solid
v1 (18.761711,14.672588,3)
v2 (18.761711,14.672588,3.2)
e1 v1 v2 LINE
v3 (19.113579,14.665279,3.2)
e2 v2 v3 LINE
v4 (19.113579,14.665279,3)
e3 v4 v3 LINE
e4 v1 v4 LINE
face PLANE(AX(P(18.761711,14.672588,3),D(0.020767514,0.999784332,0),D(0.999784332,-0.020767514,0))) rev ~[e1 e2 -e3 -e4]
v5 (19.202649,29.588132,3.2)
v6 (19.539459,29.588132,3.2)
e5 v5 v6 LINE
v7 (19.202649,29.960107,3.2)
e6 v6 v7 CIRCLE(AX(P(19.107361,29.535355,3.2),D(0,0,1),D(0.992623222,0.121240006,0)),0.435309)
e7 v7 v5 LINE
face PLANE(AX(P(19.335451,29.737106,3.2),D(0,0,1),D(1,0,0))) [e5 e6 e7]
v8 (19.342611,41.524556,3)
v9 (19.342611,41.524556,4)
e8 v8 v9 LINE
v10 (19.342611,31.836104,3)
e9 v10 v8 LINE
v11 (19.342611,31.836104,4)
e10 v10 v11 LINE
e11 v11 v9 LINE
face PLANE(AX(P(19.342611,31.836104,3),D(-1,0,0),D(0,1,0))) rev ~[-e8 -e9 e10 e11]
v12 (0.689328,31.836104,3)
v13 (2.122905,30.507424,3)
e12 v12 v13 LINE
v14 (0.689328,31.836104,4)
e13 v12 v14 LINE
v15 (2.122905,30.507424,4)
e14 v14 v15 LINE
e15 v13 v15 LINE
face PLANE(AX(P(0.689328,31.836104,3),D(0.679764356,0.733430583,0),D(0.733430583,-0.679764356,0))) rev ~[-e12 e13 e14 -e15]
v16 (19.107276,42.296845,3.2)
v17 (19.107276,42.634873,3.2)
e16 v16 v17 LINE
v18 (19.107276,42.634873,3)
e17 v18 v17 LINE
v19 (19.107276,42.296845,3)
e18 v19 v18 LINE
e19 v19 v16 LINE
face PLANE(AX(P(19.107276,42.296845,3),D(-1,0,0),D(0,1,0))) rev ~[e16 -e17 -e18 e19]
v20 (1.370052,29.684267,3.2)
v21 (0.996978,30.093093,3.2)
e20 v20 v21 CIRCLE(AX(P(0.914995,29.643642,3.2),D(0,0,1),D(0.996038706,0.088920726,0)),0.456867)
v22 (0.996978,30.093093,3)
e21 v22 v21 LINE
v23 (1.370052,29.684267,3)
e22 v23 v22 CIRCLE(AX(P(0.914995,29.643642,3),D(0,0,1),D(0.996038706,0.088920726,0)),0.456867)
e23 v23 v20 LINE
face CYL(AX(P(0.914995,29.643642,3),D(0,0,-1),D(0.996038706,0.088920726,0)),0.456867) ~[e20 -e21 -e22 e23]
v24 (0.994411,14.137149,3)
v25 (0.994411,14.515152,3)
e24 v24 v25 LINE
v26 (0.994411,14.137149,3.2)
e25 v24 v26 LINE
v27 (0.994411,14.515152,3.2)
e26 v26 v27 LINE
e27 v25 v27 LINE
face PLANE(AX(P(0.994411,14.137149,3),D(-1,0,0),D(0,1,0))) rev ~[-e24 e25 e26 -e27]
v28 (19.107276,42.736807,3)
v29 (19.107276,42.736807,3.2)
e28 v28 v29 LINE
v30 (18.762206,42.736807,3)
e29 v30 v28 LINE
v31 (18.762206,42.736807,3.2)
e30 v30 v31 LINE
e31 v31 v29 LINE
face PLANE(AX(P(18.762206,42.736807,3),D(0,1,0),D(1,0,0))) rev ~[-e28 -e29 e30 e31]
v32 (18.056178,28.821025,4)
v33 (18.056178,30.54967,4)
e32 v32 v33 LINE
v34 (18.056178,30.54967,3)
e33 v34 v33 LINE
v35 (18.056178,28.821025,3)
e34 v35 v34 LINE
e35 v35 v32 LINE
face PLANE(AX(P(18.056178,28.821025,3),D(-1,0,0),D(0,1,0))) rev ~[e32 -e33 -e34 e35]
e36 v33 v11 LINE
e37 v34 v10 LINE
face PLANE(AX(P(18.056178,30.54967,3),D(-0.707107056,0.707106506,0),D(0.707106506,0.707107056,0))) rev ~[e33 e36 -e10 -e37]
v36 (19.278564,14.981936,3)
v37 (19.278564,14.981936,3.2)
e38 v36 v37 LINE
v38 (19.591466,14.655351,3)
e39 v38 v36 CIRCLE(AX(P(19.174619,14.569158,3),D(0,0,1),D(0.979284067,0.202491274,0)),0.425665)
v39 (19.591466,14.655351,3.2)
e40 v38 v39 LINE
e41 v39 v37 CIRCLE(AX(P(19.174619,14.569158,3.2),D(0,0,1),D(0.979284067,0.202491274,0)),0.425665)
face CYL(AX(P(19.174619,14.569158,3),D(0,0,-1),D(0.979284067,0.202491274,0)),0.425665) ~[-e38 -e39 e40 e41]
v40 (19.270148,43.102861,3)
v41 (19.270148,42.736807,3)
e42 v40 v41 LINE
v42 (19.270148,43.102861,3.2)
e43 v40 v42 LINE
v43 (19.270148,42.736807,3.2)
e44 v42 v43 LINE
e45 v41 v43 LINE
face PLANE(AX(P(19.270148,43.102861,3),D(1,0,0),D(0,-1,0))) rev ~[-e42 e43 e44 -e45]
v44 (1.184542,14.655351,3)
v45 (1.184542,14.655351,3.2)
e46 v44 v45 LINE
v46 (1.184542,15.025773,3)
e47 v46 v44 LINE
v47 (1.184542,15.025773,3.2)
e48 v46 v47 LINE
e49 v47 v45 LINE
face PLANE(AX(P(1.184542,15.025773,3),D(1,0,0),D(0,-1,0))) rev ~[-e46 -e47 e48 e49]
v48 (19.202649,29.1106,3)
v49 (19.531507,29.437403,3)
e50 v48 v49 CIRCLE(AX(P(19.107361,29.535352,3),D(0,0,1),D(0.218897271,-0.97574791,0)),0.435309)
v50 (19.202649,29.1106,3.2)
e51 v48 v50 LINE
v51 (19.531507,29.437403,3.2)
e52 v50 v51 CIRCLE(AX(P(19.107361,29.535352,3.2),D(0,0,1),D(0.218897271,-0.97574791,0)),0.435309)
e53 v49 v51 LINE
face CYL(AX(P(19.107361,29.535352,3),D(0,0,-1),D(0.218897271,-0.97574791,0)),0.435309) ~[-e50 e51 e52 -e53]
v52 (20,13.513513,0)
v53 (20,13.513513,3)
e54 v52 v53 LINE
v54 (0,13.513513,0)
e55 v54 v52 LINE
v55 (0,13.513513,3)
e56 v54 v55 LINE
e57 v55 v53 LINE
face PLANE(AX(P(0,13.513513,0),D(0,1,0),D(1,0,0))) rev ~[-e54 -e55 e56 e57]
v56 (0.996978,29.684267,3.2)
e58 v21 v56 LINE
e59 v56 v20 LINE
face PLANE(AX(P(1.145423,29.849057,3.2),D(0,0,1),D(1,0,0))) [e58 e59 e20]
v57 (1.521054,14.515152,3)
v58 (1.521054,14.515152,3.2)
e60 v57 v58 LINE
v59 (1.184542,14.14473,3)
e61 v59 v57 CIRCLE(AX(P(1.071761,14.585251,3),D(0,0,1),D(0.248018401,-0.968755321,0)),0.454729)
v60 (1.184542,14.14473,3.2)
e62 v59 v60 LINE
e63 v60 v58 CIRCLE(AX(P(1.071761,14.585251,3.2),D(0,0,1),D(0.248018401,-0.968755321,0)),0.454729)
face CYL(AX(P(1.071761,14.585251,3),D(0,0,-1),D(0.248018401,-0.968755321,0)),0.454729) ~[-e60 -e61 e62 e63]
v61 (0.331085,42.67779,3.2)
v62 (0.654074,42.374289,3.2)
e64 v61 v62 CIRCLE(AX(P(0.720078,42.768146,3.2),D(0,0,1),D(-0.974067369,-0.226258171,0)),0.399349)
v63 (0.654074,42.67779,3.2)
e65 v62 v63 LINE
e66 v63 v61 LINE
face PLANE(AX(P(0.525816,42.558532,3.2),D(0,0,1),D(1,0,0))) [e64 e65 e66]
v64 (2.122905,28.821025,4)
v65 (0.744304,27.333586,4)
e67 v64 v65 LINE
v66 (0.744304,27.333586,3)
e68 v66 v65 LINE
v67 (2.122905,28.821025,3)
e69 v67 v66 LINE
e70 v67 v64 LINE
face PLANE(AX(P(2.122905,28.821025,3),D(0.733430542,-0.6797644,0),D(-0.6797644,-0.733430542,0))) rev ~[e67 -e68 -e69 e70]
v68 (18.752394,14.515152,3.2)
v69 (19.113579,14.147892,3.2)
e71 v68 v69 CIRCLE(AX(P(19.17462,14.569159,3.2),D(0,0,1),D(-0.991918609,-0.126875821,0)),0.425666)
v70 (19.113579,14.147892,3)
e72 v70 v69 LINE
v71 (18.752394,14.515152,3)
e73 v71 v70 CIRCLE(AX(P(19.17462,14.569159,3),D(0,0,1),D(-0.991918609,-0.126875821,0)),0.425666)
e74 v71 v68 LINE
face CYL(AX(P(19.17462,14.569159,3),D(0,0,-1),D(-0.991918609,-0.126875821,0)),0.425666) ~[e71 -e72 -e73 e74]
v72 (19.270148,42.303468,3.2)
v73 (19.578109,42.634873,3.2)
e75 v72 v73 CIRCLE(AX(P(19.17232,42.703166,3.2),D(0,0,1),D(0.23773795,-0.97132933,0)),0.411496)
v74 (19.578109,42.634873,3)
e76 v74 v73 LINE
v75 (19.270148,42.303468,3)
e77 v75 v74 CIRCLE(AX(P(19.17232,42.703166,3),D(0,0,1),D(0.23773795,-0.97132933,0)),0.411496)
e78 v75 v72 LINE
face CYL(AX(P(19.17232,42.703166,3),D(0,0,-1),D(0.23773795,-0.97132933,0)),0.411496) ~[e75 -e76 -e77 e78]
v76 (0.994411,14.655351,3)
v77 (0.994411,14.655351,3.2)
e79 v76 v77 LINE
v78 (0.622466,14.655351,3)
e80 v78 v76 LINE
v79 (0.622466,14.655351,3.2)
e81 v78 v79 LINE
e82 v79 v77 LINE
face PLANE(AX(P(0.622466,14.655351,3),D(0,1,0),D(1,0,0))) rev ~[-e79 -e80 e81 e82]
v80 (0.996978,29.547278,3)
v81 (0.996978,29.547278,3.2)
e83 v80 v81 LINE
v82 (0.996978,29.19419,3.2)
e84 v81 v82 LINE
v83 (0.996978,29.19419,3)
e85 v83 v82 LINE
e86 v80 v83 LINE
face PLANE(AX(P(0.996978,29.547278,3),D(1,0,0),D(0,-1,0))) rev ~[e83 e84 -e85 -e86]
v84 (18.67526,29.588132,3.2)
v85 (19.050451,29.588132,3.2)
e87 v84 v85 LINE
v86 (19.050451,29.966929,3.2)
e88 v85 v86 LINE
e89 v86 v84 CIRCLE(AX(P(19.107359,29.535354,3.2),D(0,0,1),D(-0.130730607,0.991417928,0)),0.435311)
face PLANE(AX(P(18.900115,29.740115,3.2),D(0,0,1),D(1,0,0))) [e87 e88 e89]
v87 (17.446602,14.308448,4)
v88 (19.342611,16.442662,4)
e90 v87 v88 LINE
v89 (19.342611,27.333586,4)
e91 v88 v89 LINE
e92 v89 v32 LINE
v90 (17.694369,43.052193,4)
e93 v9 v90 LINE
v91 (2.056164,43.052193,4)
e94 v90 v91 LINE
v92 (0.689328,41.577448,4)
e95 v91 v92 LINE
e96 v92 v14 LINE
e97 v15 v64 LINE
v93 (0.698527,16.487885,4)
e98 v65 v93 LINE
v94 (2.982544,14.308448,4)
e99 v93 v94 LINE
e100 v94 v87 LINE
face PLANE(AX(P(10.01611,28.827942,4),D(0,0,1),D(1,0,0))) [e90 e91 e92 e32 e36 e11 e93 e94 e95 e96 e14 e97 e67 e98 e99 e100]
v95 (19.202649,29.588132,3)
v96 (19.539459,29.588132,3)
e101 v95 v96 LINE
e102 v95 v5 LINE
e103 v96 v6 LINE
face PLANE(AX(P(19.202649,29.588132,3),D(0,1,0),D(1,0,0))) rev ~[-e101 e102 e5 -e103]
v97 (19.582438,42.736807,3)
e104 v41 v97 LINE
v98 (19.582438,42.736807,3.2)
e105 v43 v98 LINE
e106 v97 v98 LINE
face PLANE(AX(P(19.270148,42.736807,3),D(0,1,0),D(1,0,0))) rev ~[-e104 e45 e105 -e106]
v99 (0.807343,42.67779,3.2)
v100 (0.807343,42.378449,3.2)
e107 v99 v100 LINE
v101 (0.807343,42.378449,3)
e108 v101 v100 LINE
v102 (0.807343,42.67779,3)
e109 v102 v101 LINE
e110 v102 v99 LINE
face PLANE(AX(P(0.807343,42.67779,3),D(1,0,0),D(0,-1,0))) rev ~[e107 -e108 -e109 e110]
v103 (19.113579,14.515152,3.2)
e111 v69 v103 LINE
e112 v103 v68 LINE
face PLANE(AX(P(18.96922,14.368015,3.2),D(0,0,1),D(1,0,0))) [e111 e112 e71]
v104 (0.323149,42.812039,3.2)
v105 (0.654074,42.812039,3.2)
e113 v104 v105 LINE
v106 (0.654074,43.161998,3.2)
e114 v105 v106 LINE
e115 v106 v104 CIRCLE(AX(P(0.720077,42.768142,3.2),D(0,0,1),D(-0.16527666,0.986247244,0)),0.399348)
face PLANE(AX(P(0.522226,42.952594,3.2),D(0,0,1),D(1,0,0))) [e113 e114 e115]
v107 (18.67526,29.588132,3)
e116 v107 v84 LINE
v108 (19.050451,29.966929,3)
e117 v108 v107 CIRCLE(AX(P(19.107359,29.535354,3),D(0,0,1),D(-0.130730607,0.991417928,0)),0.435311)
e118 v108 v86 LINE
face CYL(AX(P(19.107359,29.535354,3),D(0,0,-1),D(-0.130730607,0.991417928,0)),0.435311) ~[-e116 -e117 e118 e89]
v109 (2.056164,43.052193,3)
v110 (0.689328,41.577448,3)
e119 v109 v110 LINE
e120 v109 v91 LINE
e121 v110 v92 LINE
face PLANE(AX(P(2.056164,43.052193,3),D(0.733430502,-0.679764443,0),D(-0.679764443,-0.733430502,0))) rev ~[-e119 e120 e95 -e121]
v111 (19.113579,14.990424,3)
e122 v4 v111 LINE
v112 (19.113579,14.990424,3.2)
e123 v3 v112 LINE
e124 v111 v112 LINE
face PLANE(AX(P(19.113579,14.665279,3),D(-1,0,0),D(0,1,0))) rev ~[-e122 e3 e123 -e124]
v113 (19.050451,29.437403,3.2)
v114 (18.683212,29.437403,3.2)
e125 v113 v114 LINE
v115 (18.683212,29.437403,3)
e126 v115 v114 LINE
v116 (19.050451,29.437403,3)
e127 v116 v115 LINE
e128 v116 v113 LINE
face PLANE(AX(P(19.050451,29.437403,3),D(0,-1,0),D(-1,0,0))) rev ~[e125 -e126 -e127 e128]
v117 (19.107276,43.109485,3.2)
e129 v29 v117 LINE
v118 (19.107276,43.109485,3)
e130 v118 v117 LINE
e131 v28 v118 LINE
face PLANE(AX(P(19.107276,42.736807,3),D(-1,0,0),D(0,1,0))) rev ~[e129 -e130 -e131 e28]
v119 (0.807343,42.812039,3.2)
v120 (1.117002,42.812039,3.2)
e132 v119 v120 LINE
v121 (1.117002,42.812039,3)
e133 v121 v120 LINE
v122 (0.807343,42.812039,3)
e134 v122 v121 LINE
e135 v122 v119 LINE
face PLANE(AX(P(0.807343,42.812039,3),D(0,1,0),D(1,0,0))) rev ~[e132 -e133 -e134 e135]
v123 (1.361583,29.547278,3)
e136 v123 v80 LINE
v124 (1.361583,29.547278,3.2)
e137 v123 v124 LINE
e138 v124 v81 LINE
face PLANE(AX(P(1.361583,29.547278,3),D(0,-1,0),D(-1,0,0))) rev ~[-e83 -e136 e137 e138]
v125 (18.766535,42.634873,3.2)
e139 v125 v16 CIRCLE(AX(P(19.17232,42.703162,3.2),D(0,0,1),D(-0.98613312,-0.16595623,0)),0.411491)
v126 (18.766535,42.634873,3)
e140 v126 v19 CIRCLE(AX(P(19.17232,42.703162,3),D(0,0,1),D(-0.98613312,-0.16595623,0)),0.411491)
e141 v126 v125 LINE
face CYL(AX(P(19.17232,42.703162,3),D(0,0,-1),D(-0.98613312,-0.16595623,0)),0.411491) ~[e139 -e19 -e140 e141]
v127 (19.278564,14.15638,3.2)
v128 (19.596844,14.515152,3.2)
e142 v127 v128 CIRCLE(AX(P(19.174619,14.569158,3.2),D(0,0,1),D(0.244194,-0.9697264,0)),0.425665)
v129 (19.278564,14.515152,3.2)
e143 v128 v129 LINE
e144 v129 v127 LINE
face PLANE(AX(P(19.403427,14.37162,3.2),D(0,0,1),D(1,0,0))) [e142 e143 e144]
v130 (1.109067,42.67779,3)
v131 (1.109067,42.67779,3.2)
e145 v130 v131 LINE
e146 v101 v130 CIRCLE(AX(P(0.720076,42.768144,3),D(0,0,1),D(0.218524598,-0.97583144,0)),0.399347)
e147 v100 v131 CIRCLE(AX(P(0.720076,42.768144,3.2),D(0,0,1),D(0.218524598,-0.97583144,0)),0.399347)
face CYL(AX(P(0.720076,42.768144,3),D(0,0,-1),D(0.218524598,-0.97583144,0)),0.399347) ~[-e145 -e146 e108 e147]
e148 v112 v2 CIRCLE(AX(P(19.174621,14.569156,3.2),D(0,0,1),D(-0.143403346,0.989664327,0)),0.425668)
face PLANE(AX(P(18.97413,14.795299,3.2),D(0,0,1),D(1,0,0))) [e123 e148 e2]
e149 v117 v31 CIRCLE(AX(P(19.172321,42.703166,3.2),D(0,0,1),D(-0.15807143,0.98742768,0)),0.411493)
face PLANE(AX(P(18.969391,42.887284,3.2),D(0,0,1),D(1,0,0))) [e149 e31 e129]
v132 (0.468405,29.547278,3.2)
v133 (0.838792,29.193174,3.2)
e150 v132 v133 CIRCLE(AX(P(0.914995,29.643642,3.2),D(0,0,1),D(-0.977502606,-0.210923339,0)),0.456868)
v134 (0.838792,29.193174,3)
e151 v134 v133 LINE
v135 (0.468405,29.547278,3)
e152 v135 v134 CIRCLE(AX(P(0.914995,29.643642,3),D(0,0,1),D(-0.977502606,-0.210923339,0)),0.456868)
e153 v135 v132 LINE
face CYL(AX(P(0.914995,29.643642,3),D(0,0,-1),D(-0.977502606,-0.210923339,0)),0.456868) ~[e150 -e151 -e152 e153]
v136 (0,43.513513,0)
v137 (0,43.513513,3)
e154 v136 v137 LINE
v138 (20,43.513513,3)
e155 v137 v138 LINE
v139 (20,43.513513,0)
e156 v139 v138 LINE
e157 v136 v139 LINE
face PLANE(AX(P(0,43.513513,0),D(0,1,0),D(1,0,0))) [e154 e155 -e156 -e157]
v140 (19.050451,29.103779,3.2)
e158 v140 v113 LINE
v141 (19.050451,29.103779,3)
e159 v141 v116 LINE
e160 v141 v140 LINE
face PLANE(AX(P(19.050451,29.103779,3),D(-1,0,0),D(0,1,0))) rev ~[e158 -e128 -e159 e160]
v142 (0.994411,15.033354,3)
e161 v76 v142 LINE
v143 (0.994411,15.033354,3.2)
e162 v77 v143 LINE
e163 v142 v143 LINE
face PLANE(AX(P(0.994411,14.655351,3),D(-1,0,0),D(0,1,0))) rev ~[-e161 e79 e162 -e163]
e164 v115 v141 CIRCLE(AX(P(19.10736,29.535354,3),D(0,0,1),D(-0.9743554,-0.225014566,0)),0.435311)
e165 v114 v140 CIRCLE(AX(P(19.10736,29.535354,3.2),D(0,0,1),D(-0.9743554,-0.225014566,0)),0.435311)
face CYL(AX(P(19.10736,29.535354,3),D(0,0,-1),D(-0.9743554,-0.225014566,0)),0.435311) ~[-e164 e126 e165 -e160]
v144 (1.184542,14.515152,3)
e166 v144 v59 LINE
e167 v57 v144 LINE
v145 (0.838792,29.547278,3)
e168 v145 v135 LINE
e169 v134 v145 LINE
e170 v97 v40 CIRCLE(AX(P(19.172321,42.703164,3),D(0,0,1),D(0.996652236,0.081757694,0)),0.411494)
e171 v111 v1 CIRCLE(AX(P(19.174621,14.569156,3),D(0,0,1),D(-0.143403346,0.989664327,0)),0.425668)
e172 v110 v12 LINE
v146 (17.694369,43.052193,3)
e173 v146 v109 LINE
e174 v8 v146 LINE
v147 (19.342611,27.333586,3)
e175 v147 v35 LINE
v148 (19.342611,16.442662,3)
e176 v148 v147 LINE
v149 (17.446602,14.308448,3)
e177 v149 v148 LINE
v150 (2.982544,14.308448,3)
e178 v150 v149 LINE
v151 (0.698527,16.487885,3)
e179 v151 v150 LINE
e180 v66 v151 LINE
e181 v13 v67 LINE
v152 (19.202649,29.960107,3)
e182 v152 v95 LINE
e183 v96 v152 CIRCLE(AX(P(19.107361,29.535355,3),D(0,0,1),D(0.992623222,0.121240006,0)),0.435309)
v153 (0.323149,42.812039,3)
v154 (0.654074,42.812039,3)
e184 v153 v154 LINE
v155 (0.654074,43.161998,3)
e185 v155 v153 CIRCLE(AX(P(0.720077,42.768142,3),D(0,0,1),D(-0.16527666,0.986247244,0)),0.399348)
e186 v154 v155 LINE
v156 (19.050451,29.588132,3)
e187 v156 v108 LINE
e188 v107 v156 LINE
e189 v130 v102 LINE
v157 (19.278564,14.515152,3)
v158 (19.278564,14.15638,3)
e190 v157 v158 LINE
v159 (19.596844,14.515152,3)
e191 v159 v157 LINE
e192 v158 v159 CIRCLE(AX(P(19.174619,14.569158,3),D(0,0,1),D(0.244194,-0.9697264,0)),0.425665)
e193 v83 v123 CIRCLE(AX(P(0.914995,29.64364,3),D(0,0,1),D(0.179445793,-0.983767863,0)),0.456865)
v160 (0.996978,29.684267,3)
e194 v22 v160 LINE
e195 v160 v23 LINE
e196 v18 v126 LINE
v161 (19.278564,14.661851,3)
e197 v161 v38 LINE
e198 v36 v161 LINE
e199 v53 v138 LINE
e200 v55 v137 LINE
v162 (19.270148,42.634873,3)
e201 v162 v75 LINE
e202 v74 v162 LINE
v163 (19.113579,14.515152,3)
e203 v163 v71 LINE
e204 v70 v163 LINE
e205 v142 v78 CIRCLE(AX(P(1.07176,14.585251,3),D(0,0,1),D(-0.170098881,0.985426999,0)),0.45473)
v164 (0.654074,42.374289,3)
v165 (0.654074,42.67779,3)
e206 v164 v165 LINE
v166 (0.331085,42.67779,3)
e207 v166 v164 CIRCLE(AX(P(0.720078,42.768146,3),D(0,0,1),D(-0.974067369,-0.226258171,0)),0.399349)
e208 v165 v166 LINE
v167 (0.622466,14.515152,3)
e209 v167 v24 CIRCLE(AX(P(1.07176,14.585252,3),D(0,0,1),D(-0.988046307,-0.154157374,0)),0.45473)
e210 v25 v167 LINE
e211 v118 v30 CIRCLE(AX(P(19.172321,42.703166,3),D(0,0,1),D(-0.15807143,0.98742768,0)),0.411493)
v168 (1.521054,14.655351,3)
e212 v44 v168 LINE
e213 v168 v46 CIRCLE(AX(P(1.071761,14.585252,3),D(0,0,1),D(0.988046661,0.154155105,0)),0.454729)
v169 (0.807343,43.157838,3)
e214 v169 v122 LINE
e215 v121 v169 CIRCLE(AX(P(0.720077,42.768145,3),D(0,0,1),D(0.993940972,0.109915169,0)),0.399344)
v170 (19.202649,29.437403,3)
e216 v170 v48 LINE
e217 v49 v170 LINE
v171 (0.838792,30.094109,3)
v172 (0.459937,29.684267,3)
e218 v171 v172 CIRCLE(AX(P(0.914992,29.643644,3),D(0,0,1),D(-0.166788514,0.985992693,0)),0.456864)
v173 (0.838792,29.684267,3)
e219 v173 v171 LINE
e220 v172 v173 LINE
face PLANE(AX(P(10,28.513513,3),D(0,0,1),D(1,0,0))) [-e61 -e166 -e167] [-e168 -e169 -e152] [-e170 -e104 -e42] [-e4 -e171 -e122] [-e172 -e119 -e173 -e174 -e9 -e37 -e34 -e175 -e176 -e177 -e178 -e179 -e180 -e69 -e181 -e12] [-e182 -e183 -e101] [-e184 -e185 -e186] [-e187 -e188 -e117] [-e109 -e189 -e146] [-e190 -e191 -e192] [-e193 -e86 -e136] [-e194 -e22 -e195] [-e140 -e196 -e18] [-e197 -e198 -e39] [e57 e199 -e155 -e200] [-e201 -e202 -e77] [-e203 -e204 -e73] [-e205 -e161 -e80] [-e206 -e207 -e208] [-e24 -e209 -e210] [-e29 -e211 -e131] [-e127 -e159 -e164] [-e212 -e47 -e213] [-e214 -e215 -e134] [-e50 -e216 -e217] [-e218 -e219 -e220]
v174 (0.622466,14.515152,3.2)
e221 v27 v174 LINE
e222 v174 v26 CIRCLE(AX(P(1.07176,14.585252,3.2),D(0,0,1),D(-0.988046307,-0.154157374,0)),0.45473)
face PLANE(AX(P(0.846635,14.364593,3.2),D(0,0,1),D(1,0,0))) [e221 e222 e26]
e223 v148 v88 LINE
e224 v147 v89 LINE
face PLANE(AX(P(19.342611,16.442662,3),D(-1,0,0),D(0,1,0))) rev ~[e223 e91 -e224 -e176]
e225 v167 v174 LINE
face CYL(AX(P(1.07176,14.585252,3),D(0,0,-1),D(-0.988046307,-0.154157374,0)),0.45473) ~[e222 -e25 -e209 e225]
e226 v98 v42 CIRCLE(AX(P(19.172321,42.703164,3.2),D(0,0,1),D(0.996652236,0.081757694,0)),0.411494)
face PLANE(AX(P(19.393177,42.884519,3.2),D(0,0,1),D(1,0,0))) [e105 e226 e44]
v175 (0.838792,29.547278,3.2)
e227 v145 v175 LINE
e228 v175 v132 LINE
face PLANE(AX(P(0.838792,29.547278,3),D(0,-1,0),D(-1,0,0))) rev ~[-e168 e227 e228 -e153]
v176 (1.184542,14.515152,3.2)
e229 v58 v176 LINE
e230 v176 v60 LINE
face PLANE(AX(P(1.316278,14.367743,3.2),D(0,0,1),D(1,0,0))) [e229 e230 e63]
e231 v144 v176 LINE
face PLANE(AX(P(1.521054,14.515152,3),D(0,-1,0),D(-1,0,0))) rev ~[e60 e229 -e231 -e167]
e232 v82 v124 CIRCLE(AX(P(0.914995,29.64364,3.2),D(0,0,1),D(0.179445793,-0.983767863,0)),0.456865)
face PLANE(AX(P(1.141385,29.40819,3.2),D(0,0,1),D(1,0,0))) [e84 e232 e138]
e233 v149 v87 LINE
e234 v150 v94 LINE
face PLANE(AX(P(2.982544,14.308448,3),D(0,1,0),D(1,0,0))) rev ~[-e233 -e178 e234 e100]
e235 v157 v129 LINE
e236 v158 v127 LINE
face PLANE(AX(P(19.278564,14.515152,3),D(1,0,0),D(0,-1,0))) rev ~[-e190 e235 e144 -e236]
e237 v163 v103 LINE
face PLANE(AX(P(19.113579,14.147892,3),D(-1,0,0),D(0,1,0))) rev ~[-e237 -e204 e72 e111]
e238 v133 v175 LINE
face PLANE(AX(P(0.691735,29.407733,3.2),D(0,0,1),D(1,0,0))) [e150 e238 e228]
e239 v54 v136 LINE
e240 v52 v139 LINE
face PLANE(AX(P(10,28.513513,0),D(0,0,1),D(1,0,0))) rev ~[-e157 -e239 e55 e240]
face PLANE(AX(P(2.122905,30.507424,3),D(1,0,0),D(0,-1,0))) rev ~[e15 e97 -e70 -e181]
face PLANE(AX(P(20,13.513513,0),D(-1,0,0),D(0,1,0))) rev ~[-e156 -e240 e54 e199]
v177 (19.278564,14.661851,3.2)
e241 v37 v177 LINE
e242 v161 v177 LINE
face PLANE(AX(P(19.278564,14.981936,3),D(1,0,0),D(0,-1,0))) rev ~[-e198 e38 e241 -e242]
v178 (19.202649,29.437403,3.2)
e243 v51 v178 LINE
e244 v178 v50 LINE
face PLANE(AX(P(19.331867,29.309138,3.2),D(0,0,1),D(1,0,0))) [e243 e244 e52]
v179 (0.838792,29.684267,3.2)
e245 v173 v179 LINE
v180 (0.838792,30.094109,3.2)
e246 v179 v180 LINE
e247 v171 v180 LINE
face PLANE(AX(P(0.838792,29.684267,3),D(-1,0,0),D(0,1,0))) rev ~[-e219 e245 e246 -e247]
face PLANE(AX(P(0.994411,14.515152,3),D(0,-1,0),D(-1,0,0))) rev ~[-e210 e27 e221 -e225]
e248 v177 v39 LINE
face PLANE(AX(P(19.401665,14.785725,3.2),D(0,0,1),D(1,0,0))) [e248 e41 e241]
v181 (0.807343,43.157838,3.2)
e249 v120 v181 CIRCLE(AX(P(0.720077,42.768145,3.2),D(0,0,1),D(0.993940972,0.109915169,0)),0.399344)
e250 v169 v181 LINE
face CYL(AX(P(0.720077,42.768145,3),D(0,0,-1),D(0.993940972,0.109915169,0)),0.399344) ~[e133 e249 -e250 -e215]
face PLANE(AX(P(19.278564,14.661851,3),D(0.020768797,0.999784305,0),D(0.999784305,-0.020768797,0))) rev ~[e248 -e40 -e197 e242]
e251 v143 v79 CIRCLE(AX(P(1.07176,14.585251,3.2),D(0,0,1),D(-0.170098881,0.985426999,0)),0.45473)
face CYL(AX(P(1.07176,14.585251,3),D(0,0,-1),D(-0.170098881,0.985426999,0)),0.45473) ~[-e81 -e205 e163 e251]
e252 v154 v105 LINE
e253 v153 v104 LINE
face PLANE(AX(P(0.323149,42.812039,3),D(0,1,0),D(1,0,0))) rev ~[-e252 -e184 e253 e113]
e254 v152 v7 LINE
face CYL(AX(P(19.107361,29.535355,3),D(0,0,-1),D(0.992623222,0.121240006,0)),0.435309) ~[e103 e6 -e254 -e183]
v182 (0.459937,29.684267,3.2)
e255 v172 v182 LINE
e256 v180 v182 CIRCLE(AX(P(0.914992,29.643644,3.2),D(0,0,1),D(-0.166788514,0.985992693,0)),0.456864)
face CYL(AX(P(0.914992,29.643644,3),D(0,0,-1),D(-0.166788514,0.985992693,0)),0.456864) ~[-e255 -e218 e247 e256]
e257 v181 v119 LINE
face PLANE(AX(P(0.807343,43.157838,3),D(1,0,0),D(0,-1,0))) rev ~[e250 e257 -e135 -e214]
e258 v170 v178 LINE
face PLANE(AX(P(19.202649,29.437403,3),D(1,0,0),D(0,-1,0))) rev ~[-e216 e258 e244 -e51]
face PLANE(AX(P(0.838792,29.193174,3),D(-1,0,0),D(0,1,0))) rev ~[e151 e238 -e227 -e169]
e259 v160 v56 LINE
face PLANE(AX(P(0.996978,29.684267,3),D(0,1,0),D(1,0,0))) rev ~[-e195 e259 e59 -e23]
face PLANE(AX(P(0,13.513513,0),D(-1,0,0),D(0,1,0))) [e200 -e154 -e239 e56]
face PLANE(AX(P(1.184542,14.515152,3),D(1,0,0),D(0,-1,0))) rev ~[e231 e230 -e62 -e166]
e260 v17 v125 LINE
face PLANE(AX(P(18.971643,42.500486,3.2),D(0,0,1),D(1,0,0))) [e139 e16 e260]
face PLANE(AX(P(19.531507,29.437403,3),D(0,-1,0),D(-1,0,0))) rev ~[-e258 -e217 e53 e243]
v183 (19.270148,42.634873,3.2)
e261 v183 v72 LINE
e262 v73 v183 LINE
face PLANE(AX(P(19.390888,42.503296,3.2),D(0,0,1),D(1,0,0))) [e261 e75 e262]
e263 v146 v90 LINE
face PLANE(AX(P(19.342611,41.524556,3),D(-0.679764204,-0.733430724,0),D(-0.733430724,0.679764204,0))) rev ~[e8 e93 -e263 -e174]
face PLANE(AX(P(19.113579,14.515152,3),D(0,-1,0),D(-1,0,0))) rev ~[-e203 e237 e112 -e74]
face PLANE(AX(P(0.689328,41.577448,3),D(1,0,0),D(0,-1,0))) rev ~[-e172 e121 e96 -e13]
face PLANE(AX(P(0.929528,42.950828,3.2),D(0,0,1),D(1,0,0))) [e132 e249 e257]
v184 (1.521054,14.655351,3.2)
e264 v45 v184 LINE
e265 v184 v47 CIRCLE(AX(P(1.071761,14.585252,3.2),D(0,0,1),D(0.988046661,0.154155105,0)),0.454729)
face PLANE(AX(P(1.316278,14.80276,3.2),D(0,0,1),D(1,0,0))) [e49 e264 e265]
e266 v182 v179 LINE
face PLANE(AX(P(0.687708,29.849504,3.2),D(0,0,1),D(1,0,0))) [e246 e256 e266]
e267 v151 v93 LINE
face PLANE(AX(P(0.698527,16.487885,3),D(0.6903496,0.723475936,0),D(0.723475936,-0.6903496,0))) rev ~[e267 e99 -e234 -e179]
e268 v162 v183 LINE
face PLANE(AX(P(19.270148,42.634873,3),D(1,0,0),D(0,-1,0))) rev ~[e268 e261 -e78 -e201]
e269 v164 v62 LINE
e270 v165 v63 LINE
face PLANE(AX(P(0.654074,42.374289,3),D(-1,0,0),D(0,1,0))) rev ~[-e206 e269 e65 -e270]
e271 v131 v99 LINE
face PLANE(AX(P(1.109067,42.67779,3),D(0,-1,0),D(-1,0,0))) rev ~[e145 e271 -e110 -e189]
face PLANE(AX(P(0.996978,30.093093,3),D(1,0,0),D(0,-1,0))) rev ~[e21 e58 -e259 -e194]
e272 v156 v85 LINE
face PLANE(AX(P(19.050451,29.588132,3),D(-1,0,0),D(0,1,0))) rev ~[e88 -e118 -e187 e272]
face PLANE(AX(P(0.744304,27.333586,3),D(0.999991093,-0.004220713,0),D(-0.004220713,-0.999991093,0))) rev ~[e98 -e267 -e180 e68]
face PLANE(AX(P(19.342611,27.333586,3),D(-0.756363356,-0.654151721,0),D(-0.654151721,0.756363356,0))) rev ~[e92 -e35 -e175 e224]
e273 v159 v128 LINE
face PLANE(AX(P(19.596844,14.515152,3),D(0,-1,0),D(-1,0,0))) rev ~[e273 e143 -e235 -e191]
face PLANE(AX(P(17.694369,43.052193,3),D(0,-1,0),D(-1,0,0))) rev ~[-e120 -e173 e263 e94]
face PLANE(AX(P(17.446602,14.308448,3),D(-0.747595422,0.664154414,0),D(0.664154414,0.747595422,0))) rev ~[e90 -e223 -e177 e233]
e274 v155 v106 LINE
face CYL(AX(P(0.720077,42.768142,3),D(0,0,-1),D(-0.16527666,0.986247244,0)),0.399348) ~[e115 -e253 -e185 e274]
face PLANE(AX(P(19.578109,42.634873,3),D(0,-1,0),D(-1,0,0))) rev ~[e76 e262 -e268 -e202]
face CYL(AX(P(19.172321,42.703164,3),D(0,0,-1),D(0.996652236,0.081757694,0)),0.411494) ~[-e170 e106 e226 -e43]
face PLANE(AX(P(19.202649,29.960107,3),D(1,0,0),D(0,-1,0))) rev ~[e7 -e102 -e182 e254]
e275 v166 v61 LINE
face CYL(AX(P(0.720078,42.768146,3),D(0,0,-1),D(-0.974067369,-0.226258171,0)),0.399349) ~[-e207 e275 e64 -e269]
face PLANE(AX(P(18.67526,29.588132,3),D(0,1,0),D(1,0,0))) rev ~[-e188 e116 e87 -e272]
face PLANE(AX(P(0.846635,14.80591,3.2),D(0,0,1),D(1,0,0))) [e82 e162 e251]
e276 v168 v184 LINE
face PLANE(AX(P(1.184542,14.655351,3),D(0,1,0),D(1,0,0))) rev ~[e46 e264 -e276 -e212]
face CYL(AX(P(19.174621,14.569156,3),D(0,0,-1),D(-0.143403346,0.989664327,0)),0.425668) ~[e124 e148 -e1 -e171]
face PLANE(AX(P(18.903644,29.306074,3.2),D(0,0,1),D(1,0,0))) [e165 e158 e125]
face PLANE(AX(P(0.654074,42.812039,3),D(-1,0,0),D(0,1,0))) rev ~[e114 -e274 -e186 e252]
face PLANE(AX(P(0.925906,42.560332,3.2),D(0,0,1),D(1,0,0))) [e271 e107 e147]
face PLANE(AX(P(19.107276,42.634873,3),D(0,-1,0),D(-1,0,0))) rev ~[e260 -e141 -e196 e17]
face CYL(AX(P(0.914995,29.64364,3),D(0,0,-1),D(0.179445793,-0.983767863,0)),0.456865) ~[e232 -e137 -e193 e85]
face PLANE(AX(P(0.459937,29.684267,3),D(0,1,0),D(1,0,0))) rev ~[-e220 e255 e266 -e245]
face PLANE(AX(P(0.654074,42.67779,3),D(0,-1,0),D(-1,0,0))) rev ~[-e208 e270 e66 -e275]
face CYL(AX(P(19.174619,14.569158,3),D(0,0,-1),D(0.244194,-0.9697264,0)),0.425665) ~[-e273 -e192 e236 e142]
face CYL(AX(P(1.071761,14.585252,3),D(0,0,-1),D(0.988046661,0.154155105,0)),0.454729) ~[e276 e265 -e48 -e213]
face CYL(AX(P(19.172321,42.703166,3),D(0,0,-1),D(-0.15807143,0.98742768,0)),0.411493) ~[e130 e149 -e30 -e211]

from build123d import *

# Parameters (mm, degrees)
F0_W     = 20
F0_H     = 30
F1_DEPTH = 3
F3_DEPTH = 1
F5_DEPTH = 0.2


with BuildPart() as f1:
    # F0 (on Top) → F1 (new body)
    with BuildSketch(Plane.XY):
        with Locations((10, 28.513513)):
            Rectangle(F0_W, F0_H)
    extrude(amount=F1_DEPTH)

    # F2 (on face) → F3 (join)
    with BuildSketch(Plane.XY.offset(3)):
        Polygon((19.342611, 41.524556), (17.694369, 43.052193), (2.056164, 43.052193), (0.689328, 41.577448), (0.689328, 31.836104), (2.122905, 30.507424), (2.122905, 28.821025), (0.744304, 27.333586), (0.698527, 16.487885), (2.982544, 14.308448), (17.446602, 14.308448), (19.342611, 16.442662), (19.342611, 27.333586), (18.056178, 28.821025), (18.056178, 30.54967), (19.342611, 31.836104), align=None)
    extrude(amount=F3_DEPTH)

    # F4 (on face) → F5 (join)
    with BuildSketch(Plane.XY.offset(3)):
        with BuildLine():
            Line((19.270148, 42.736807), (19.582438, 42.736807))
            ThreePointArc((19.582438, 42.736807), (19.485372, 42.970235), (19.270148, 43.102861))
            Line((19.270148, 43.102861), (19.270148, 42.736807))
        make_face()
        with BuildLine():
            Line((19.107276, 42.736807), (19.107276, 43.109485))
            ThreePointArc((19.107276, 43.109485), (18.870383, 42.982736), (18.762206, 42.736807))
            Line((18.762206, 42.736807), (19.107276, 42.736807))
        make_face()
        with BuildLine():
            Line((0.654074, 42.812039), (0.654074, 43.161998))
            ThreePointArc((0.654074, 43.161998), (0.429915, 43.042523), (0.323149, 42.812039))
            Line((0.323149, 42.812039), (0.654074, 42.812039))
        make_face()
        with BuildLine():
            Line((0.807343, 42.812039), (1.117002, 42.812039))
            ThreePointArc((1.117002, 42.812039), (1.017574, 43.03455), (0.807343, 43.157838))
            Line((0.807343, 43.157838), (0.807343, 42.812039))
        make_face()
        with BuildLine():
            ThreePointArc((0.807343, 42.378449), (1.001335, 42.484646), (1.109067, 42.67779))
            Line((1.109067, 42.67779), (0.807343, 42.67779))
            Line((0.807343, 42.67779), (0.807343, 42.378449))
        make_face()
        with BuildLine():
            ThreePointArc((0.331085, 42.67779), (0.446612, 42.47712), (0.654074, 42.374289))
            Line((0.654074, 42.374289), (0.654074, 42.67779))
            Line((0.654074, 42.67779), (0.331085, 42.67779))
        make_face()
        with BuildLine():
            ThreePointArc((18.766535, 42.634873), (18.882517, 42.411034), (19.107276, 42.296845))
            Line((19.107276, 42.296845), (19.107276, 42.634873))
            Line((19.107276, 42.634873), (18.766535, 42.634873))
        make_face()
        with BuildLine():
            ThreePointArc((19.270148, 42.303468), (19.473758, 42.423052), (19.578109, 42.634873))
            Line((19.578109, 42.634873), (19.270148, 42.634873))
            Line((19.270148, 42.634873), (19.270148, 42.303468))
        make_face()
        with BuildLine():
            Line((0.996978, 29.684267), (1.370052, 29.684267))
            ThreePointArc((1.370052, 29.684267), (1.252467, 29.951603), (0.996978, 30.093093))
            Line((0.996978, 30.093093), (0.996978, 29.684267))
        make_face()
        with BuildLine():
            Line((0.838792, 29.684267), (0.838792, 30.094109))
            ThreePointArc((0.838792, 30.094109), (0.579506, 29.953764), (0.459937, 29.684267))
            Line((0.459937, 29.684267), (0.838792, 29.684267))
        make_face()
        with BuildLine():
            ThreePointArc((0.468405, 29.547278), (0.599281, 29.31341), (0.838792, 29.193174))
            Line((0.838792, 29.193174), (0.838792, 29.547278))
            Line((0.838792, 29.547278), (0.468405, 29.547278))
        make_face()
        with BuildLine():
            ThreePointArc((0.996978, 29.19419), (1.232823, 29.315445), (1.361583, 29.547278))
            Line((1.361583, 29.547278), (0.996978, 29.547278))
            Line((0.996978, 29.547278), (0.996978, 29.19419))
        make_face()
        with BuildLine():
            Line((19.202649, 29.588132), (19.539459, 29.588132))
            ThreePointArc((19.539459, 29.588132), (19.430045, 29.827535), (19.202649, 29.960107))
            Line((19.202649, 29.960107), (19.202649, 29.588132))
        make_face()
        with BuildLine():
            Line((19.050451, 29.588132), (19.050451, 29.966929))
            ThreePointArc((19.050451, 29.966929), (18.79808, 29.84169), (18.67526, 29.588132))
            Line((18.67526, 29.588132), (19.050451, 29.588132))
        make_face()
        with BuildLine():
            ThreePointArc((18.683212, 29.437403), (18.814648, 29.21315), (19.050451, 29.103779))
            Line((19.050451, 29.103779), (19.050451, 29.437403))
            Line((19.050451, 29.437403), (18.683212, 29.437403))
        make_face()
        with BuildLine():
            ThreePointArc((19.202649, 29.1106), (19.414205, 29.226579), (19.531507, 29.437403))
            Line((19.531507, 29.437403), (19.202649, 29.437403))
            Line((19.202649, 29.437403), (19.202649, 29.1106))
        make_face()
        with BuildLine():
            Line((0.994411, 14.655351), (0.994411, 15.033354))
            ThreePointArc((0.994411, 15.033354), (0.747631, 14.904186), (0.622466, 14.655351))
            Line((0.622466, 14.655351), (0.994411, 14.655351))
        make_face()
        with BuildLine():
            Line((1.184542, 14.655351), (1.521054, 14.655351))
            ThreePointArc((1.521054, 14.655351), (1.408339, 14.891019), (1.184542, 15.025773))
            Line((1.184542, 15.025773), (1.184542, 14.655351))
        make_face()
        with BuildLine():
            ThreePointArc((1.184542, 14.14473), (1.408339, 14.279484), (1.521054, 14.515152))
            Line((1.521054, 14.515152), (1.184542, 14.515152))
            Line((1.184542, 14.515152), (1.184542, 14.14473))
        make_face()
        with BuildLine():
            ThreePointArc((0.622466, 14.515152), (0.747631, 14.266317), (0.994411, 14.137149))
            Line((0.994411, 14.137149), (0.994411, 14.515152))
            Line((0.994411, 14.515152), (0.622466, 14.515152))
        make_face()
        with BuildLine():
            Line((19.278564, 14.661851), (19.591466, 14.655351))
            ThreePointArc((19.591466, 14.655351), (19.48198, 14.86364), (19.278564, 14.981936))
            Line((19.278564, 14.981936), (19.278564, 14.661851))
        make_face()
        with BuildLine():
            Line((19.113579, 14.665279), (19.113579, 14.990424))
            ThreePointArc((19.113579, 14.990424), (18.889292, 14.885036), (18.761711, 14.672588))
            Line((18.761711, 14.672588), (19.113579, 14.665279))
        make_face()
        with BuildLine():
            ThreePointArc((18.752394, 14.515152), (18.871129, 14.270688), (19.113579, 14.147892))
            Line((19.113579, 14.147892), (19.113579, 14.515152))
            Line((19.113579, 14.515152), (18.752394, 14.515152))
        make_face()
        with BuildLine():
            ThreePointArc((19.278564, 14.15638), (19.493042, 14.286674), (19.596844, 14.515152))
            Line((19.596844, 14.515152), (19.278564, 14.515152))
            Line((19.278564, 14.515152), (19.278564, 14.15638))
        make_face()
    extrude(amount=F5_DEPTH)


solid = f1.part
